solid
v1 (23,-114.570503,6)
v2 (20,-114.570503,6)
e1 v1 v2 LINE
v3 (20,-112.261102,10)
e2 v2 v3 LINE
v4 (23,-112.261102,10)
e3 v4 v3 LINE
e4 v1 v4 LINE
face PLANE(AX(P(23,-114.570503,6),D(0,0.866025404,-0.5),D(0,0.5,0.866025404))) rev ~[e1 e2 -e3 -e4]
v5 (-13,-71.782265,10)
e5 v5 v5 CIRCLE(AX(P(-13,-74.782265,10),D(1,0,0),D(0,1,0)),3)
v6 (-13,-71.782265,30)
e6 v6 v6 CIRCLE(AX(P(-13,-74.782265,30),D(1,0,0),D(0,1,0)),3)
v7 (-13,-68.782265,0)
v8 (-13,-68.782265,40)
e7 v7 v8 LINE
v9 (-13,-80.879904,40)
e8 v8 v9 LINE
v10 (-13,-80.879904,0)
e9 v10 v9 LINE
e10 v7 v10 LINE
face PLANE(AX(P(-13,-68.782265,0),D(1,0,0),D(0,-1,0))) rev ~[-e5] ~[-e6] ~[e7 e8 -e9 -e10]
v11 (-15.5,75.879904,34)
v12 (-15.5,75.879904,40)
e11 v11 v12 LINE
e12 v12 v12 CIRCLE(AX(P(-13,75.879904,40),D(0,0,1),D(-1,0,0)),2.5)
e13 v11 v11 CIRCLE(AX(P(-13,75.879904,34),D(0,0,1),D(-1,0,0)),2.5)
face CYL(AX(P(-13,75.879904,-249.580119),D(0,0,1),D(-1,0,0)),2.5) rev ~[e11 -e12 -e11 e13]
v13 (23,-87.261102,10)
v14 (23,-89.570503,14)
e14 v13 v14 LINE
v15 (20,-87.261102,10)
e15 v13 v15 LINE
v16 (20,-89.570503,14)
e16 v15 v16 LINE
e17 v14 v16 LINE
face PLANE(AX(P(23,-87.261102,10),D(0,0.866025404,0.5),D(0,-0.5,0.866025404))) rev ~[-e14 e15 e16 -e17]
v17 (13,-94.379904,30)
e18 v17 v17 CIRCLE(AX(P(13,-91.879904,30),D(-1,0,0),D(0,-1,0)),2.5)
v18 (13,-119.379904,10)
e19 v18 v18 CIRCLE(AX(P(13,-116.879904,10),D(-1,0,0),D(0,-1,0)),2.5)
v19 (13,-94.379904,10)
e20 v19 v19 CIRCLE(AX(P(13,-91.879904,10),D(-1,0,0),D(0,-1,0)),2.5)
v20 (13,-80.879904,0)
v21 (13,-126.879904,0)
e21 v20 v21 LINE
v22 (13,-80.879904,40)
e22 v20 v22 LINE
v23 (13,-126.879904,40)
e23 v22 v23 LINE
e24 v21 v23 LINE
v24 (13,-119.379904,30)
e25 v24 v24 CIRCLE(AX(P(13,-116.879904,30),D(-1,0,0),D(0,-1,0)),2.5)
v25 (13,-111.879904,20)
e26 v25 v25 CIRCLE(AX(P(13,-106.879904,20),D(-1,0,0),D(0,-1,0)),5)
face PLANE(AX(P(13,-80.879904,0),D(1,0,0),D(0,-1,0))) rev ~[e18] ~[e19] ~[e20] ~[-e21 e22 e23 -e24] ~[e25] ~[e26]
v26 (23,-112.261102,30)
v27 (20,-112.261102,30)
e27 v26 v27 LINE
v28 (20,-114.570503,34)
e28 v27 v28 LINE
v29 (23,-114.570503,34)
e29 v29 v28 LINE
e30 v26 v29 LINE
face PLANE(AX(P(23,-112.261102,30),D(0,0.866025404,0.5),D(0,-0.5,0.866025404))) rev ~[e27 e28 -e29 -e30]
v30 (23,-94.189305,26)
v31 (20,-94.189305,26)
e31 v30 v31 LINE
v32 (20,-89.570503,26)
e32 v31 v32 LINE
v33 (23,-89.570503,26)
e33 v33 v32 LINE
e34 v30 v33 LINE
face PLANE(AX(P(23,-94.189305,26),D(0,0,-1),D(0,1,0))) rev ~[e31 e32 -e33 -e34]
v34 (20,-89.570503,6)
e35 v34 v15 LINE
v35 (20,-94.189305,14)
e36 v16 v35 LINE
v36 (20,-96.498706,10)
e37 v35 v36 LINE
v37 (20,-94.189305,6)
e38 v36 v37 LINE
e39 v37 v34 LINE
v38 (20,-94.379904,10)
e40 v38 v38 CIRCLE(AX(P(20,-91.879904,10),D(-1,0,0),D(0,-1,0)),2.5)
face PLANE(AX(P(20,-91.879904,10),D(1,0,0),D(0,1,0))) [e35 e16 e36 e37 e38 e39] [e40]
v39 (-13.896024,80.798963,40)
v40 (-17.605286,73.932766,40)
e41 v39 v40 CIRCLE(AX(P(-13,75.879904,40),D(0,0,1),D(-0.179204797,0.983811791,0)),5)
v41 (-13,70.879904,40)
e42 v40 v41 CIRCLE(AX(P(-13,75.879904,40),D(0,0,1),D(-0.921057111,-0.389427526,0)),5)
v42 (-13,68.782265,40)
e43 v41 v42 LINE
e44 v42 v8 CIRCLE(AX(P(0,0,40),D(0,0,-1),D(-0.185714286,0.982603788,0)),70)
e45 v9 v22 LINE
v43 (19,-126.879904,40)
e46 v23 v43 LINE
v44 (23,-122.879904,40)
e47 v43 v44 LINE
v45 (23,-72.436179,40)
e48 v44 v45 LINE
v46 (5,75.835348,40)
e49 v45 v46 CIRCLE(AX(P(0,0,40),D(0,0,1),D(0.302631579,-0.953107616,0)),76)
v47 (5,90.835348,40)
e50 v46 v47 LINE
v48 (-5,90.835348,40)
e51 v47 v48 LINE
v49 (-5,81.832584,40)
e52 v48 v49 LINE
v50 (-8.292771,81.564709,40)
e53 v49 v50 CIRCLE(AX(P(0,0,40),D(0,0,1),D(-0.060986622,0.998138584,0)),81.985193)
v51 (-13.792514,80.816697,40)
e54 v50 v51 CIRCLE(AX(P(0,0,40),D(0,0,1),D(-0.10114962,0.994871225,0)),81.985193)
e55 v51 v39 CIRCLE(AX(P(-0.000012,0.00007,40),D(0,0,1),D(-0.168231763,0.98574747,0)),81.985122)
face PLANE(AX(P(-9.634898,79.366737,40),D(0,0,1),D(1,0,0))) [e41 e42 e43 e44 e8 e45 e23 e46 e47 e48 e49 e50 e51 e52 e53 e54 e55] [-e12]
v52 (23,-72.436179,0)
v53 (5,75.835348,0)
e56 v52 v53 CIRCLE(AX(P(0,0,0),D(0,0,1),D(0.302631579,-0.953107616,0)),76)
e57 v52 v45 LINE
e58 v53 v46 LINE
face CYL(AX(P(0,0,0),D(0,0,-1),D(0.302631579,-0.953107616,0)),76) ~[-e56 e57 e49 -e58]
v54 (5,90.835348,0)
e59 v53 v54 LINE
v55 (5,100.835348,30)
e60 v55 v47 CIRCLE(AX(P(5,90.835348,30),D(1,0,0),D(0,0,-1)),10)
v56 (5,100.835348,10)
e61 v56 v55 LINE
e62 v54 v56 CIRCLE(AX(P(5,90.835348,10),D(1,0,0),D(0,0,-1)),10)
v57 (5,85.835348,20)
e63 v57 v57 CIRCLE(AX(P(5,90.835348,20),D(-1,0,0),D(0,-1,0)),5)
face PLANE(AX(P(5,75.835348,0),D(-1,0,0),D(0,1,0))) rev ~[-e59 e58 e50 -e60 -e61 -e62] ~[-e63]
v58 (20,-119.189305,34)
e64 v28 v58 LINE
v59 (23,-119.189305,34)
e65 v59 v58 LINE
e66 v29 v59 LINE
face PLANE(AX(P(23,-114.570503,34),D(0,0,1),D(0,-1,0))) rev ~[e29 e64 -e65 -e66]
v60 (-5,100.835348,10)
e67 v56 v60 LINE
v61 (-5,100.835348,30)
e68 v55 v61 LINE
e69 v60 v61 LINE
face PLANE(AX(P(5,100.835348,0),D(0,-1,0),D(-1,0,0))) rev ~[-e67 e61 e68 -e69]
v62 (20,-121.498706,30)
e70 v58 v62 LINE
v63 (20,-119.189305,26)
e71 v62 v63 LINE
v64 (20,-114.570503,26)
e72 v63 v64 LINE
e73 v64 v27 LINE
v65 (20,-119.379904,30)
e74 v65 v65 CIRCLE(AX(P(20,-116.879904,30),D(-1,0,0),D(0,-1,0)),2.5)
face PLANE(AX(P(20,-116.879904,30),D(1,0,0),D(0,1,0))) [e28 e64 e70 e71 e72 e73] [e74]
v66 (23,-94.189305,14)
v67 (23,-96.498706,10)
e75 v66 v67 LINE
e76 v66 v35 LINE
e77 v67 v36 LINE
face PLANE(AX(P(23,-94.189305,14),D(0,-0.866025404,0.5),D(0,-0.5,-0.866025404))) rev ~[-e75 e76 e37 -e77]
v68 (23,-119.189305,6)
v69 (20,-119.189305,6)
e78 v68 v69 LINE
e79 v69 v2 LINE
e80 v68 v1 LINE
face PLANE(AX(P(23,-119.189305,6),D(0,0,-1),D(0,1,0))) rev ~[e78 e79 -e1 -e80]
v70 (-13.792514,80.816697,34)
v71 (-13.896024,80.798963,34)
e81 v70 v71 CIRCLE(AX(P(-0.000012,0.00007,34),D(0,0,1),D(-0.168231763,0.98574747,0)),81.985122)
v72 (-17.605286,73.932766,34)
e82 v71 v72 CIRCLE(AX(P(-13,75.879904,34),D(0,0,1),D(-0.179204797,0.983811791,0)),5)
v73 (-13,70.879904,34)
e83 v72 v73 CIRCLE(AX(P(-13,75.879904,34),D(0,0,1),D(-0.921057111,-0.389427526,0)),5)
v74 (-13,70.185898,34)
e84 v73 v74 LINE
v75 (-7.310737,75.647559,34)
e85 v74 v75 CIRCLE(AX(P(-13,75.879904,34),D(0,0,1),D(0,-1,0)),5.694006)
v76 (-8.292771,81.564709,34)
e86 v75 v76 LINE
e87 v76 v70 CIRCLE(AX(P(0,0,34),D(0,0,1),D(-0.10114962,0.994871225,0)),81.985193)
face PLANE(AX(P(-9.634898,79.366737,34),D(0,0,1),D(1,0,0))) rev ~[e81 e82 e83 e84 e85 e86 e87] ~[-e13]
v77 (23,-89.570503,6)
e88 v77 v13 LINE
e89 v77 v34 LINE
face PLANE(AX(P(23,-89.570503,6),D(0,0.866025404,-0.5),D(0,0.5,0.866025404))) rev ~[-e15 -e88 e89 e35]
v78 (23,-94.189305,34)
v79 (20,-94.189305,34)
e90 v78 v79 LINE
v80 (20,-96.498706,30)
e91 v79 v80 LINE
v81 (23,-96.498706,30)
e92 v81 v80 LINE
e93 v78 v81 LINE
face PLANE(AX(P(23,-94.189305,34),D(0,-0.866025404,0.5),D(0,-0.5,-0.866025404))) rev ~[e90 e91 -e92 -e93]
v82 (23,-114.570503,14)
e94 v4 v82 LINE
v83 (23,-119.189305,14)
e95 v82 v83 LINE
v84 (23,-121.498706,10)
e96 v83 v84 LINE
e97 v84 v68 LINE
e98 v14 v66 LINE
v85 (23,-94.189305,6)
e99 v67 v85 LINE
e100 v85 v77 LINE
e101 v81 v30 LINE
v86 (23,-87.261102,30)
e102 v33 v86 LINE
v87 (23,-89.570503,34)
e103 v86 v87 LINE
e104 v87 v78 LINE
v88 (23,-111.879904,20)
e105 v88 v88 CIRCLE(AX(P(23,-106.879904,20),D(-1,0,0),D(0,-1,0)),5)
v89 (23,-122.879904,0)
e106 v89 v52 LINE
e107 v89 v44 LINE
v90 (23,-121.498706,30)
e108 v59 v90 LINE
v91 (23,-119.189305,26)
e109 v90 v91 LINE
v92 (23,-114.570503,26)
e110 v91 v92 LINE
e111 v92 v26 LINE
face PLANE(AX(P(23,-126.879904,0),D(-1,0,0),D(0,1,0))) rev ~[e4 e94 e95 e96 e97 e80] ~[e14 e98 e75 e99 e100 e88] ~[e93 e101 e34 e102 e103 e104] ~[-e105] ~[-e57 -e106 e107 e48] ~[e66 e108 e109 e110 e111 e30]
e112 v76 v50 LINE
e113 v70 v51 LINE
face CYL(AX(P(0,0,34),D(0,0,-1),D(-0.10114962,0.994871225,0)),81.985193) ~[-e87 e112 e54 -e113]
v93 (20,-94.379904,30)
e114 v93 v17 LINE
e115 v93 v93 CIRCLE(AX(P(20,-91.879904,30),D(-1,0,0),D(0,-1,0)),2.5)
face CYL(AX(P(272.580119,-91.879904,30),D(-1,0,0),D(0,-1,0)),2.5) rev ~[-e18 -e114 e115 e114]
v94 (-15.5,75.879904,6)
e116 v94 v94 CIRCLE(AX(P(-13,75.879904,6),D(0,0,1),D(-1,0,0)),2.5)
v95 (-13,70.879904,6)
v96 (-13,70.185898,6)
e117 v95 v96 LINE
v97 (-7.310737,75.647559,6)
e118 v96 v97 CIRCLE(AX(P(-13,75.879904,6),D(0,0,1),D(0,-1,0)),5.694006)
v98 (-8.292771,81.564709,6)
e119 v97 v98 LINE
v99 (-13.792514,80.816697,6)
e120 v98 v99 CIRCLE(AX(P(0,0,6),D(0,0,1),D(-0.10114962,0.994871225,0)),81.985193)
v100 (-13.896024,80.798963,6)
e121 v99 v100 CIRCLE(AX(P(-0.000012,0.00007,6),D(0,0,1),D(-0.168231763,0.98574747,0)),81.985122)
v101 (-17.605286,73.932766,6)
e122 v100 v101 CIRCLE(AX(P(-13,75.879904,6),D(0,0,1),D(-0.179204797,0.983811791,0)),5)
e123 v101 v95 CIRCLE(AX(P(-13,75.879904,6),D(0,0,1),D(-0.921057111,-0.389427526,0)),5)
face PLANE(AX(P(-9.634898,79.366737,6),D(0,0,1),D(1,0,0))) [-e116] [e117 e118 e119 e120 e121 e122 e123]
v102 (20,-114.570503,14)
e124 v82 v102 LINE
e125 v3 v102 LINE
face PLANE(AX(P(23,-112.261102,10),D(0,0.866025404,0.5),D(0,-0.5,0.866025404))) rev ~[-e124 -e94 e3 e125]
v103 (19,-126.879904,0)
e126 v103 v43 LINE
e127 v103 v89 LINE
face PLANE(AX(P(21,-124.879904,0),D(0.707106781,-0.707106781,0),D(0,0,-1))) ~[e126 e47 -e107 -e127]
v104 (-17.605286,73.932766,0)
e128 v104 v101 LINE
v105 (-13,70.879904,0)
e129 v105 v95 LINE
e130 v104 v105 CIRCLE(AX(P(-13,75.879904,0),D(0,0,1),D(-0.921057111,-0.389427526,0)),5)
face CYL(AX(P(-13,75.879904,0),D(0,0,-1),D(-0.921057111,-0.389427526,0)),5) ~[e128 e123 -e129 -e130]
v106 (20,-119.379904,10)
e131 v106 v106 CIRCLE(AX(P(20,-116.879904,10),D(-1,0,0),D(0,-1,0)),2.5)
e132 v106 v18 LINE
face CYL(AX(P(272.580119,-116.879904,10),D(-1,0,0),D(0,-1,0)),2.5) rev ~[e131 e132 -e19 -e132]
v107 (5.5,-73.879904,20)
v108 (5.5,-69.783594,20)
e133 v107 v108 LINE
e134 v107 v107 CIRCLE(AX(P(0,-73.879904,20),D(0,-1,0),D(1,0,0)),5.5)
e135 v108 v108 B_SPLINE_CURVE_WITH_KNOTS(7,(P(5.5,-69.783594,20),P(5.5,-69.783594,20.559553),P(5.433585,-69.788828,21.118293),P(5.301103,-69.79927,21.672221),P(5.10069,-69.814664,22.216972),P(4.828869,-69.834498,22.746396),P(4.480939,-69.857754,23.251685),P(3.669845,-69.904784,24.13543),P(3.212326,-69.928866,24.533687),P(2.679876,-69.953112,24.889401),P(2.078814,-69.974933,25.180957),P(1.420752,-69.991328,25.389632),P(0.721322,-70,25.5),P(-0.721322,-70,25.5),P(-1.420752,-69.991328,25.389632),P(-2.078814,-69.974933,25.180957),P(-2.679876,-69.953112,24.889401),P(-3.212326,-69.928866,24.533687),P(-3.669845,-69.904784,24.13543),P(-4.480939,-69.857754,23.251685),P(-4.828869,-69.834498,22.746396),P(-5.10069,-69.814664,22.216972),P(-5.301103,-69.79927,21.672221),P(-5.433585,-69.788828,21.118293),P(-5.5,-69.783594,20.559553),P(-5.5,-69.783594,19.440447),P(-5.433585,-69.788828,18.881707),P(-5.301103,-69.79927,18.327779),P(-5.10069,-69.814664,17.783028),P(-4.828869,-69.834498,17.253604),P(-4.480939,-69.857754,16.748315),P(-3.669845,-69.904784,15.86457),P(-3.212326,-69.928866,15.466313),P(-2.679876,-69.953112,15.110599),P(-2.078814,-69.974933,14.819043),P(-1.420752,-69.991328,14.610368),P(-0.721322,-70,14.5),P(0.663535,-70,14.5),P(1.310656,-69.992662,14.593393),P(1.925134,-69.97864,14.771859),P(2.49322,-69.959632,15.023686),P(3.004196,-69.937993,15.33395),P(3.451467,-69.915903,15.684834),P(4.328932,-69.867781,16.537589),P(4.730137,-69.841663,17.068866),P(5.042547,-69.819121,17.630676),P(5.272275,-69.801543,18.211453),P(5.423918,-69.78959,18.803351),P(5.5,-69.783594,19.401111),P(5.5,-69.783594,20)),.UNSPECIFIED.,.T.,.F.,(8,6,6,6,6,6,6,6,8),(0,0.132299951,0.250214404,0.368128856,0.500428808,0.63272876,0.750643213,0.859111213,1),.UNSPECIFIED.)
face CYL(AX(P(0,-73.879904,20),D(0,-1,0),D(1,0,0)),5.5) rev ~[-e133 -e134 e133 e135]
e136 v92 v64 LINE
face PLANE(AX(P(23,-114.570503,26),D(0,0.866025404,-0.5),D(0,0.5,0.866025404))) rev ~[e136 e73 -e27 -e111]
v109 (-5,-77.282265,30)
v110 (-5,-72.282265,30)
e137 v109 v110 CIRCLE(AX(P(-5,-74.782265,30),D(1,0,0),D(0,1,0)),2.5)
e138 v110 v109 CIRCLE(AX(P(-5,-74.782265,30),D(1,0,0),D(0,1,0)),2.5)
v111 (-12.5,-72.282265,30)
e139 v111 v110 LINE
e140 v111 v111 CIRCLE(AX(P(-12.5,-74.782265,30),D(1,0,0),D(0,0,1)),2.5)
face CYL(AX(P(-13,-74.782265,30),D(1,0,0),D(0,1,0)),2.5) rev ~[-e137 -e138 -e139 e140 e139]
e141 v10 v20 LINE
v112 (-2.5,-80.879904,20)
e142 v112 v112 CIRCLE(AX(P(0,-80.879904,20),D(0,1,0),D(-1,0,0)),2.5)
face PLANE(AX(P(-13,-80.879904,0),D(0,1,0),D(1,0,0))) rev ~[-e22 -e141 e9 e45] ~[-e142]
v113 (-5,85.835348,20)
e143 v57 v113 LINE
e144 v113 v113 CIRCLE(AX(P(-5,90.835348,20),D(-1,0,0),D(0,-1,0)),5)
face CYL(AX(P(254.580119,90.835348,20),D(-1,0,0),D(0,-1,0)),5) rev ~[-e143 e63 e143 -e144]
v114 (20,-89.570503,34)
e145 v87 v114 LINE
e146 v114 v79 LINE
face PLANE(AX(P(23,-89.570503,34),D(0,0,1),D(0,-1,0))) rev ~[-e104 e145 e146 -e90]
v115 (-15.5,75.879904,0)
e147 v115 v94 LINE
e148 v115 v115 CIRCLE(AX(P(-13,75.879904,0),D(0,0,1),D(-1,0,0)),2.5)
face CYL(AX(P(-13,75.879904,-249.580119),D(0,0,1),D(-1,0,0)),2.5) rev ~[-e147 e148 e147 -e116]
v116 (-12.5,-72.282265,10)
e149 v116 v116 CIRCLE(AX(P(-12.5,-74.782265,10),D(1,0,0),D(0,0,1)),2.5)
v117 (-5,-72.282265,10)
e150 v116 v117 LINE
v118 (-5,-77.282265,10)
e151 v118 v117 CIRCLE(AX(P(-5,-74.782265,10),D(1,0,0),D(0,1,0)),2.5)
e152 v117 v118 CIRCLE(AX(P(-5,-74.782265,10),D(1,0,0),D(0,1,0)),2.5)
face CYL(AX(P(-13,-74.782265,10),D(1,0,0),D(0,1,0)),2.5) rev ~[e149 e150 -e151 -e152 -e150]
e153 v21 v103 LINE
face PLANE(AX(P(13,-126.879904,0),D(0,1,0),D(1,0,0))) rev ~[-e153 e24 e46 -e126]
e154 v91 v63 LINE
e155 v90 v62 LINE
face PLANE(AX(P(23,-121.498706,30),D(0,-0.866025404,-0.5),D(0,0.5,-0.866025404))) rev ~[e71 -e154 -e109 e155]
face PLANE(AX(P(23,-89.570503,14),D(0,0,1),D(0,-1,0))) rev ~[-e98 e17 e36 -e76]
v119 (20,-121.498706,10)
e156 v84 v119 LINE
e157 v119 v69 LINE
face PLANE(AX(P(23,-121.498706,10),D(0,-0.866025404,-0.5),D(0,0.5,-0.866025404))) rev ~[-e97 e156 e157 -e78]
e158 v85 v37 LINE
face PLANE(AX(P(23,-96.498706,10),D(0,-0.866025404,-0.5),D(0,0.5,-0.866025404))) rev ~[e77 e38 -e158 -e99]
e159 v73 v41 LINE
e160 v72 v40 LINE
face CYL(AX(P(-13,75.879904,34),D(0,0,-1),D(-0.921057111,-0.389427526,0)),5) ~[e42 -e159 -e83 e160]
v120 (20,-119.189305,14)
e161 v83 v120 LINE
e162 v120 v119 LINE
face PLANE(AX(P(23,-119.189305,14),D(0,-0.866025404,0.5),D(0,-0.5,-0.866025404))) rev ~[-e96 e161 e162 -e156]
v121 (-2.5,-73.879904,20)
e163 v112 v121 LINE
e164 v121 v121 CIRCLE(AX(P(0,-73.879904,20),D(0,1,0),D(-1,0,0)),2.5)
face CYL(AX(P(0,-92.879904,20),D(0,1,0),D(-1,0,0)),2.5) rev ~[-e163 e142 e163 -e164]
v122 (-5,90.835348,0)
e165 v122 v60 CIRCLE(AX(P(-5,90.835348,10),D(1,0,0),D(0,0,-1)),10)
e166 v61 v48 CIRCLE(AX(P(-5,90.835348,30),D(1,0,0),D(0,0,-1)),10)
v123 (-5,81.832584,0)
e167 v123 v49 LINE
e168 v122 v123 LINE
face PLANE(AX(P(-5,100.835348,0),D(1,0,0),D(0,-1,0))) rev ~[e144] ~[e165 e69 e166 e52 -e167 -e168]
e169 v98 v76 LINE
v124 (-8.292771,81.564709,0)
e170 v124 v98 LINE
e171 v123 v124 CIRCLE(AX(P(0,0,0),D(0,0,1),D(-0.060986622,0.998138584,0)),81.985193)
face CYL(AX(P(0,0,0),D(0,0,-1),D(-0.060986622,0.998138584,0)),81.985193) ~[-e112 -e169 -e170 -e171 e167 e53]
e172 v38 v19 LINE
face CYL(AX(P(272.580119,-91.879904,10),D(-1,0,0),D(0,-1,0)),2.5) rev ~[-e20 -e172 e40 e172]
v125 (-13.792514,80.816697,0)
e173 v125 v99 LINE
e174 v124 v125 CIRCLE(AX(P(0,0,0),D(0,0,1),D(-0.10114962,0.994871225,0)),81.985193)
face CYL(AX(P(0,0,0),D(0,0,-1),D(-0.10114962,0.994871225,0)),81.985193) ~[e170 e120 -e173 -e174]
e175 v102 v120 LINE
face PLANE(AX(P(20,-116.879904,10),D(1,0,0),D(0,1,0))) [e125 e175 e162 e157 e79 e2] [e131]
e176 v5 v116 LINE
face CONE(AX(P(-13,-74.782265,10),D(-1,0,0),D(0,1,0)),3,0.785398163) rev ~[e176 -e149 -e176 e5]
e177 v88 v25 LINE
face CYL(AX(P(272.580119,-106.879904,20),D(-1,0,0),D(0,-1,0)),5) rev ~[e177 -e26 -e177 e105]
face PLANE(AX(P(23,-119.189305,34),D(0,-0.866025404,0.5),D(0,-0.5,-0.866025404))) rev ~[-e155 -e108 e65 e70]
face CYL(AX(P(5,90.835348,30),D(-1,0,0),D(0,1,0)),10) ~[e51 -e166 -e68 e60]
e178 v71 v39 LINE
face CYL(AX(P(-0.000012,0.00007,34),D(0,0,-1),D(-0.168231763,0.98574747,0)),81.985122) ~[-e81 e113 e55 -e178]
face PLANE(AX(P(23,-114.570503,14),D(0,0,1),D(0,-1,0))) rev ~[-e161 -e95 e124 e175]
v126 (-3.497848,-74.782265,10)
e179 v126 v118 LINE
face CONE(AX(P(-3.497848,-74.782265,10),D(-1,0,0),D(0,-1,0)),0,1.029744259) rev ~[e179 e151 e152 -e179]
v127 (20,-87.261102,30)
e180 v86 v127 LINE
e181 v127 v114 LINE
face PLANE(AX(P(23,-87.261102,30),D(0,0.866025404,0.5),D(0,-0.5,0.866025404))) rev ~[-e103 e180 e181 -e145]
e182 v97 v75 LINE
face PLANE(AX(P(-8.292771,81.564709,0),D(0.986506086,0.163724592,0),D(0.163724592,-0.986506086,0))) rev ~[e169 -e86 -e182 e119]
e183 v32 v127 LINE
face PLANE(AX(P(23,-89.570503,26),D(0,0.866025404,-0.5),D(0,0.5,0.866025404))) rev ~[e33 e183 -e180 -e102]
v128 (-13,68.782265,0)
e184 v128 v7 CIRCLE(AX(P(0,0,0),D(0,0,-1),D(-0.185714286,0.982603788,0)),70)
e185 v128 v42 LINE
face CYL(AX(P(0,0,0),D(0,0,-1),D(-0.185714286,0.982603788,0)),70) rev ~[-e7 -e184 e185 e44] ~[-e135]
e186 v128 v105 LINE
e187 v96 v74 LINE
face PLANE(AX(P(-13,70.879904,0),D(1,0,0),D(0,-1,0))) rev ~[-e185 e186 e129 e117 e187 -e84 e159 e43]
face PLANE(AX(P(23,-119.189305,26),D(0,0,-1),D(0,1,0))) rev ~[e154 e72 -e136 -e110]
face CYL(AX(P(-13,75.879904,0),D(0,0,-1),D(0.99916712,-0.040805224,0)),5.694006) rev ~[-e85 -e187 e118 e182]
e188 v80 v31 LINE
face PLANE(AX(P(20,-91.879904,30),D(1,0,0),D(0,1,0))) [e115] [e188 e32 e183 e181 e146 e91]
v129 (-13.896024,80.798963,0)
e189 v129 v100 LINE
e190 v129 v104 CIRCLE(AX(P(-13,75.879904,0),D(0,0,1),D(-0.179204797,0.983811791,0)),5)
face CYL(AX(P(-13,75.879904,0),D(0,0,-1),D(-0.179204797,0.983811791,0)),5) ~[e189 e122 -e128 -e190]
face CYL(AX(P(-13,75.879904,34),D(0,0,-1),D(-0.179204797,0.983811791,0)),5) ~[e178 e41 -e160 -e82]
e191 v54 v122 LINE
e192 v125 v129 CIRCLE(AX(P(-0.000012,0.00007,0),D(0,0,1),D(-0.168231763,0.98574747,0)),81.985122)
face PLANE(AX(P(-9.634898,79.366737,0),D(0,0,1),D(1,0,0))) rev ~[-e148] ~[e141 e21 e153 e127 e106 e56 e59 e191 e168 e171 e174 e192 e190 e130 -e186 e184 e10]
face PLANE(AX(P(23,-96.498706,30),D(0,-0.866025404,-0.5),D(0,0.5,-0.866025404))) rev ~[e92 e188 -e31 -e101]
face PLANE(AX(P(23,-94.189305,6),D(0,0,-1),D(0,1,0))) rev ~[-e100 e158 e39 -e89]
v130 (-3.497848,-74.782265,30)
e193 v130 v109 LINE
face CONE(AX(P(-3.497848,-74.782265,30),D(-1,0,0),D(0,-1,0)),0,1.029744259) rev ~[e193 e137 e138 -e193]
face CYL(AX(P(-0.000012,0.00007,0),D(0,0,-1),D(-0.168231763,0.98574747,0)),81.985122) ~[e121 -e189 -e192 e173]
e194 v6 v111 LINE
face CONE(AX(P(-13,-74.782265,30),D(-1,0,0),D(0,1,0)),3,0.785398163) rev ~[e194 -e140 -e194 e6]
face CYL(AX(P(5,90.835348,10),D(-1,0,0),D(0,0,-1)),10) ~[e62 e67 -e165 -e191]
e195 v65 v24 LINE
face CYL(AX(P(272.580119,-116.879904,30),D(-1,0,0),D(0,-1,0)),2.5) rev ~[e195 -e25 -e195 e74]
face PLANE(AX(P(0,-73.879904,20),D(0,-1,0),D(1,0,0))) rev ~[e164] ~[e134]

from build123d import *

# Parameters (mm, degrees)
F1_DEPTH       = 40
F2_START       = 34
F2_DEPTH       = 6
F3_DEPTH       = 6
F5_D           = 5
F5_DEPTH       = 8
F5_CSINK_D     = 6
F5_CSINK_ANGLE = 90
F5_TIP         = 1.5021515476
F7_D           = 10
F8_D           = 5
F9_SIZE        = 4
F11_D          = 10
F12_R          = 10
F13_D          = 5
F15_D          = 5
F15_DEPTH      = 12
F15_TIP        = 1.5021515476
F16_START      = -7
F14_R          = 5.5
F16_DEPTH      = 5
F17_DEPTH      = 3


with BuildPart() as f1:
    # F0 (on Top) → F1 (new body)
    with BuildSketch(Plane.XY):
        with BuildLine():
            Line((-8.2927711273, 81.5647094006), (-7.3107365454, 75.6475586596))
            ThreePointArc((-7.3107365454, 75.6475586596), (-6.1560843706, 75.7502648525), (-5, 75.8353479586))
            Line((-5, 75.8353479586), (-5, 81.8325844183))
            ThreePointArc((-5, 81.8325844183), (-6.6477349765, 81.7152341505), (-8.2927711273, 81.5647094006))
        make_face()
        with BuildLine():
            Line((-5, 81.8325844183), (-5, 75.8353479586))
            ThreePointArc((-5, 75.8353479586), (0, 76), (5, 75.8353479586))
            Line((5, 75.8353479586), (5, 100.8353479586))
            Line((5, 100.8353479586), (-5, 100.8353479586))
            Line((-5, 100.8353479586), (-5, 81.8325844183))
        make_face()
        with BuildLine():
            ThreePointArc((-13, 68.7822651561), (44.6654228683, 53.8980519128), (70, 0))
            ThreePointArc((70, 0), (44.6654228683, -53.8980519128), (-13, -68.7822651561))
            Line((-13, -68.7822651561), (-13, -74.8799038461))
            ThreePointArc((-13, -74.8799038461), (0, -76), (13, -74.8799038461))
            ThreePointArc((13, -74.8799038461), (18.0414231151, -73.8275494107), (23, -72.4361788059))
            ThreePointArc((23, -72.4361788059), (61.3351449008, -44.8776113446), (76, 0))
            ThreePointArc((76, 0), (55.4797260267, 51.9422756529), (5, 75.8353479586))
            ThreePointArc((5, 75.8353479586), (0, 76), (-5, 75.8353479586))
            ThreePointArc((-5, 75.8353479586), (-6.1560843706, 75.7502648525), (-7.3107365454, 75.6475586596))
            ThreePointArc((-7.3107365454, 75.6475586596), (-9.056731807, 71.7723085764), (-13, 70.1858979679))
            Line((-13, 70.1858979679), (-13, 68.7822651561))
        make_face()
        with BuildLine():
            ThreePointArc((13, -74.8799038461), (0, -76), (-13, -74.8799038461))
            Line((-13, -74.8799038461), (-13, -80.8799038461))
            Line((-13, -80.8799038461), (13, -80.8799038461))
            Line((13, -80.8799038461), (13, -74.8799038461))
        make_face()
        with BuildLine():
            ThreePointArc((23, -72.4361788059), (18.0414231151, -73.8275494107), (13, -74.8799038461))
            Line((13, -74.8799038461), (13, -80.8799038461))
            Line((13, -80.8799038461), (13, -126.8799038461))
            Line((13, -126.8799038461), (23, -126.8799038461))
            Line((23, -126.8799038461), (23, -72.4361788059))
        make_face()
    extrude(amount=F1_DEPTH)

    # F0 (on Top) → F2 (join)
    with BuildSketch(Plane.XY.offset(F2_START)):
        with BuildLine():
            ThreePointArc((-8.009195615, 75.576800578), (-7.6600477823, 75.6129861067), (-7.3107365454, 75.6475586596))
            Line((-7.3107365454, 75.6475586596), (-8.2927711273, 81.5647094006))
            ThreePointArc((-8.2927711273, 81.5647094006), (-11.0489742273, 81.2372577153), (-13.7925136268, 80.8166965449))
            ThreePointArc((-13.7925136268, 80.8166965449), (-9.7567430054, 79.6853320831), (-8, 75.8799038461))
            ThreePointArc((-8, 75.8799038461), (-8.0022994325, 75.7282824834), (-8.009195615, 75.576800578))
        make_face()
        with BuildLine():
            Line((-13, 74.8799038461), (-13, 70.8799038461))
            ThreePointArc((-13, 70.8799038461), (-9.5733045321, 72.2387833907), (-8.009195615, 75.576800578))
            ThreePointArc((-8.009195615, 75.576800578), (-10.5103754149, 75.2697283683), (-13, 74.8799038461))
        make_face()
        with BuildLine():
            ThreePointArc((-17.6052855561, 73.9327662169), (-15.7626356848, 71.7124293023), (-13, 70.8799038461))
            Line((-13, 70.8799038461), (-13, 74.8799038461))
            ThreePointArc((-13, 74.8799038461), (-15.3099687594, 74.441956292), (-17.6052855561, 73.9327662169))
        make_face()
        with BuildLine():
            ThreePointArc((-13.8960239837, 80.7989628029), (-17.3991209977, 78.2564001006), (-17.6052855561, 73.9327662169))
            ThreePointArc((-17.6052855561, 73.9327662169), (-15.3099687594, 74.441956292), (-13, 74.8799038461))
            ThreePointArc((-13, 74.8799038461), (-10.5103754149, 75.2697283683), (-8.009195615, 75.576800578))
            ThreePointArc((-8.009195615, 75.576800578), (-8.0022994325, 75.7282824834), (-8, 75.8799038461))
            ThreePointArc((-8, 75.8799038461), (-9.7567430054, 79.6853320831), (-13.7925136268, 80.8166965449))
            ThreePointArc((-13.7925136268, 80.8166965449), (-13.8442716447, 80.8078462478), (-13.8960239837, 80.7989628029))
        make_face()
        with BuildLine():
            Line((-13, 70.8799038461), (-13, 70.1858979679))
            ThreePointArc((-13, 70.1858979679), (-9.056731807, 71.7723085764), (-7.3107365454, 75.6475586596))
            ThreePointArc((-7.3107365454, 75.6475586596), (-7.6600477823, 75.6129861067), (-8.009195615, 75.576800578))
            ThreePointArc((-8.009195615, 75.576800578), (-9.5733045321, 72.2387833907), (-13, 70.8799038461))
        make_face()
    extrude(amount=F2_DEPTH)

    # F0 (on Top) → F3 (join)
    with BuildSketch(Plane.XY):
        with BuildLine():
            ThreePointArc((-8.009195615, 75.576800578), (-7.6600477823, 75.6129861067), (-7.3107365454, 75.6475586596))
            Line((-7.3107365454, 75.6475586596), (-8.2927711273, 81.5647094006))
            ThreePointArc((-8.2927711273, 81.5647094006), (-11.0489742273, 81.2372577153), (-13.7925136268, 80.8166965449))
            ThreePointArc((-13.7925136268, 80.8166965449), (-9.7567430054, 79.6853320831), (-8, 75.8799038461))
            ThreePointArc((-8, 75.8799038461), (-8.0022994325, 75.7282824834), (-8.009195615, 75.576800578))
        make_face()
        with BuildLine():
            Line((-13, 74.8799038461), (-13, 70.8799038461))
            ThreePointArc((-13, 70.8799038461), (-9.5733045321, 72.2387833907), (-8.009195615, 75.576800578))
            ThreePointArc((-8.009195615, 75.576800578), (-10.5103754149, 75.2697283683), (-13, 74.8799038461))
        make_face()
        with BuildLine():
            ThreePointArc((-17.6052855561, 73.9327662169), (-15.7626356848, 71.7124293023), (-13, 70.8799038461))
            Line((-13, 70.8799038461), (-13, 74.8799038461))
            ThreePointArc((-13, 74.8799038461), (-15.3099687594, 74.441956292), (-17.6052855561, 73.9327662169))
        make_face()
        with BuildLine():
            ThreePointArc((-13.8960239837, 80.7989628029), (-17.3991209977, 78.2564001006), (-17.6052855561, 73.9327662169))
            ThreePointArc((-17.6052855561, 73.9327662169), (-15.3099687594, 74.441956292), (-13, 74.8799038461))
            ThreePointArc((-13, 74.8799038461), (-10.5103754149, 75.2697283683), (-8.009195615, 75.576800578))
            ThreePointArc((-8.009195615, 75.576800578), (-8.0022994325, 75.7282824834), (-8, 75.8799038461))
            ThreePointArc((-8, 75.8799038461), (-9.7567430054, 79.6853320831), (-13.7925136268, 80.8166965449))
            ThreePointArc((-13.7925136268, 80.8166965449), (-13.8442716447, 80.8078462478), (-13.8960239837, 80.7989628029))
        make_face()
        with BuildLine():
            Line((-13, 70.8799038461), (-13, 70.1858979679))
            ThreePointArc((-13, 70.1858979679), (-9.056731807, 71.7723085764), (-7.3107365454, 75.6475586596))
            ThreePointArc((-7.3107365454, 75.6475586596), (-7.6600477823, 75.6129861067), (-8.009195615, 75.576800578))
            ThreePointArc((-8.009195615, 75.576800578), (-9.5733045321, 72.2387833907), (-13, 70.8799038461))
        make_face()
    extrude(amount=F3_DEPTH)

    # F5
    with Locations(Plane(origin=(-13, 0, 0), x_dir=(0, -1, 0), z_dir=(-1, 0, 0))):
        with Locations((74.7822651561, 30), (74.7822651561, 10)):
            CounterSinkHole(F5_D / 2, F5_CSINK_D / 2, depth=F5_DEPTH, counter_sink_angle=F5_CSINK_ANGLE)
            with Locations((0, 0, -(F5_DEPTH + F5_TIP / 2))):  # 118° drill point
                Cone(0, F5_D / 2, F5_TIP, mode=Mode.SUBTRACT)

    # F7 (through all)
    with Locations(Plane.YZ.offset(23)):
        with Locations((-106.8799038461, 20)):
            Hole(F7_D / 2)

    # F8 (through all)
    with Locations(Plane.YZ.offset(23)):
        with Locations((-116.8799038461, 30), (-91.8799038461, 30), (-91.8799038461, 10), (-116.8799038461, 10)):
            Hole(F8_D / 2)

    # F9
    f9_edges = [f1.edges().sort_by_distance(p)[0] for p in [
        (23, -126.879904, 20),
    ]]
    chamfer(f9_edges, length=F9_SIZE)

    # F11 (through all)
    with Locations(Plane.YZ.offset(5)):
        with Locations((90.8353479586, 20)):
            Hole(F11_D / 2)

    # F12
    f12_edges = [f1.edges().sort_by_distance(p)[0] for p in [
        (0, 100.835348, 40),
        (0, 100.835348, 0),
    ]]
    fillet(f12_edges, radius=F12_R)

    # F13 (through all)
    with Locations(Plane(origin=(0, 0, 0), x_dir=(1, 0, 0), z_dir=(0, 0, -1))):
        with Locations((-13, -75.8799038461)):
            Hole(F13_D / 2)

    # F15
    with Locations(Plane.XZ.offset(80.8799038461)):
        with Locations((0, 20)):
            Hole(F15_D / 2, depth=F15_DEPTH)
            with Locations((0, 0, -(F15_DEPTH + F15_TIP / 2))):  # 118° drill point
                Cone(0, F15_D / 2, F15_TIP, mode=Mode.SUBTRACT)

    # F14 (on face) → F16 (cut)
    with BuildSketch(Plane.XZ.offset(80.8799038461).offset(F16_START)):
        with Locations((0, 20)):
            Circle(F14_R)
    extrude(amount=-F16_DEPTH, mode=Mode.SUBTRACT)

    # F6 (on face) → F17 (cut)
    with BuildSketch(Plane.YZ.offset(23)):
        Polygon((-114.5705027693, 34), (-119.1893049229, 34), (-121.4987059996, 30), (-119.1893049229, 26), (-114.5705027693, 26), (-112.2611016926, 30), align=None)
        Polygon((-89.5705027693, 34), (-94.1893049229, 34), (-96.4987059996, 30), (-94.1893049229, 26), (-89.5705027693, 26), (-87.2611016926, 30), align=None)
        Polygon((-87.2611016926, 10), (-89.5705027693, 14), (-94.1893049229, 14), (-96.4987059996, 10), (-94.1893049229, 6), (-89.5705027693, 6), align=None)
        Polygon((-119.1893049229, 14), (-121.4987059996, 10), (-119.1893049229, 6), (-114.5705027693, 6), (-112.2611016926, 10), (-114.5705027693, 14), align=None)
    extrude(amount=-F17_DEPTH, mode=Mode.SUBTRACT)


solid = f1.part
